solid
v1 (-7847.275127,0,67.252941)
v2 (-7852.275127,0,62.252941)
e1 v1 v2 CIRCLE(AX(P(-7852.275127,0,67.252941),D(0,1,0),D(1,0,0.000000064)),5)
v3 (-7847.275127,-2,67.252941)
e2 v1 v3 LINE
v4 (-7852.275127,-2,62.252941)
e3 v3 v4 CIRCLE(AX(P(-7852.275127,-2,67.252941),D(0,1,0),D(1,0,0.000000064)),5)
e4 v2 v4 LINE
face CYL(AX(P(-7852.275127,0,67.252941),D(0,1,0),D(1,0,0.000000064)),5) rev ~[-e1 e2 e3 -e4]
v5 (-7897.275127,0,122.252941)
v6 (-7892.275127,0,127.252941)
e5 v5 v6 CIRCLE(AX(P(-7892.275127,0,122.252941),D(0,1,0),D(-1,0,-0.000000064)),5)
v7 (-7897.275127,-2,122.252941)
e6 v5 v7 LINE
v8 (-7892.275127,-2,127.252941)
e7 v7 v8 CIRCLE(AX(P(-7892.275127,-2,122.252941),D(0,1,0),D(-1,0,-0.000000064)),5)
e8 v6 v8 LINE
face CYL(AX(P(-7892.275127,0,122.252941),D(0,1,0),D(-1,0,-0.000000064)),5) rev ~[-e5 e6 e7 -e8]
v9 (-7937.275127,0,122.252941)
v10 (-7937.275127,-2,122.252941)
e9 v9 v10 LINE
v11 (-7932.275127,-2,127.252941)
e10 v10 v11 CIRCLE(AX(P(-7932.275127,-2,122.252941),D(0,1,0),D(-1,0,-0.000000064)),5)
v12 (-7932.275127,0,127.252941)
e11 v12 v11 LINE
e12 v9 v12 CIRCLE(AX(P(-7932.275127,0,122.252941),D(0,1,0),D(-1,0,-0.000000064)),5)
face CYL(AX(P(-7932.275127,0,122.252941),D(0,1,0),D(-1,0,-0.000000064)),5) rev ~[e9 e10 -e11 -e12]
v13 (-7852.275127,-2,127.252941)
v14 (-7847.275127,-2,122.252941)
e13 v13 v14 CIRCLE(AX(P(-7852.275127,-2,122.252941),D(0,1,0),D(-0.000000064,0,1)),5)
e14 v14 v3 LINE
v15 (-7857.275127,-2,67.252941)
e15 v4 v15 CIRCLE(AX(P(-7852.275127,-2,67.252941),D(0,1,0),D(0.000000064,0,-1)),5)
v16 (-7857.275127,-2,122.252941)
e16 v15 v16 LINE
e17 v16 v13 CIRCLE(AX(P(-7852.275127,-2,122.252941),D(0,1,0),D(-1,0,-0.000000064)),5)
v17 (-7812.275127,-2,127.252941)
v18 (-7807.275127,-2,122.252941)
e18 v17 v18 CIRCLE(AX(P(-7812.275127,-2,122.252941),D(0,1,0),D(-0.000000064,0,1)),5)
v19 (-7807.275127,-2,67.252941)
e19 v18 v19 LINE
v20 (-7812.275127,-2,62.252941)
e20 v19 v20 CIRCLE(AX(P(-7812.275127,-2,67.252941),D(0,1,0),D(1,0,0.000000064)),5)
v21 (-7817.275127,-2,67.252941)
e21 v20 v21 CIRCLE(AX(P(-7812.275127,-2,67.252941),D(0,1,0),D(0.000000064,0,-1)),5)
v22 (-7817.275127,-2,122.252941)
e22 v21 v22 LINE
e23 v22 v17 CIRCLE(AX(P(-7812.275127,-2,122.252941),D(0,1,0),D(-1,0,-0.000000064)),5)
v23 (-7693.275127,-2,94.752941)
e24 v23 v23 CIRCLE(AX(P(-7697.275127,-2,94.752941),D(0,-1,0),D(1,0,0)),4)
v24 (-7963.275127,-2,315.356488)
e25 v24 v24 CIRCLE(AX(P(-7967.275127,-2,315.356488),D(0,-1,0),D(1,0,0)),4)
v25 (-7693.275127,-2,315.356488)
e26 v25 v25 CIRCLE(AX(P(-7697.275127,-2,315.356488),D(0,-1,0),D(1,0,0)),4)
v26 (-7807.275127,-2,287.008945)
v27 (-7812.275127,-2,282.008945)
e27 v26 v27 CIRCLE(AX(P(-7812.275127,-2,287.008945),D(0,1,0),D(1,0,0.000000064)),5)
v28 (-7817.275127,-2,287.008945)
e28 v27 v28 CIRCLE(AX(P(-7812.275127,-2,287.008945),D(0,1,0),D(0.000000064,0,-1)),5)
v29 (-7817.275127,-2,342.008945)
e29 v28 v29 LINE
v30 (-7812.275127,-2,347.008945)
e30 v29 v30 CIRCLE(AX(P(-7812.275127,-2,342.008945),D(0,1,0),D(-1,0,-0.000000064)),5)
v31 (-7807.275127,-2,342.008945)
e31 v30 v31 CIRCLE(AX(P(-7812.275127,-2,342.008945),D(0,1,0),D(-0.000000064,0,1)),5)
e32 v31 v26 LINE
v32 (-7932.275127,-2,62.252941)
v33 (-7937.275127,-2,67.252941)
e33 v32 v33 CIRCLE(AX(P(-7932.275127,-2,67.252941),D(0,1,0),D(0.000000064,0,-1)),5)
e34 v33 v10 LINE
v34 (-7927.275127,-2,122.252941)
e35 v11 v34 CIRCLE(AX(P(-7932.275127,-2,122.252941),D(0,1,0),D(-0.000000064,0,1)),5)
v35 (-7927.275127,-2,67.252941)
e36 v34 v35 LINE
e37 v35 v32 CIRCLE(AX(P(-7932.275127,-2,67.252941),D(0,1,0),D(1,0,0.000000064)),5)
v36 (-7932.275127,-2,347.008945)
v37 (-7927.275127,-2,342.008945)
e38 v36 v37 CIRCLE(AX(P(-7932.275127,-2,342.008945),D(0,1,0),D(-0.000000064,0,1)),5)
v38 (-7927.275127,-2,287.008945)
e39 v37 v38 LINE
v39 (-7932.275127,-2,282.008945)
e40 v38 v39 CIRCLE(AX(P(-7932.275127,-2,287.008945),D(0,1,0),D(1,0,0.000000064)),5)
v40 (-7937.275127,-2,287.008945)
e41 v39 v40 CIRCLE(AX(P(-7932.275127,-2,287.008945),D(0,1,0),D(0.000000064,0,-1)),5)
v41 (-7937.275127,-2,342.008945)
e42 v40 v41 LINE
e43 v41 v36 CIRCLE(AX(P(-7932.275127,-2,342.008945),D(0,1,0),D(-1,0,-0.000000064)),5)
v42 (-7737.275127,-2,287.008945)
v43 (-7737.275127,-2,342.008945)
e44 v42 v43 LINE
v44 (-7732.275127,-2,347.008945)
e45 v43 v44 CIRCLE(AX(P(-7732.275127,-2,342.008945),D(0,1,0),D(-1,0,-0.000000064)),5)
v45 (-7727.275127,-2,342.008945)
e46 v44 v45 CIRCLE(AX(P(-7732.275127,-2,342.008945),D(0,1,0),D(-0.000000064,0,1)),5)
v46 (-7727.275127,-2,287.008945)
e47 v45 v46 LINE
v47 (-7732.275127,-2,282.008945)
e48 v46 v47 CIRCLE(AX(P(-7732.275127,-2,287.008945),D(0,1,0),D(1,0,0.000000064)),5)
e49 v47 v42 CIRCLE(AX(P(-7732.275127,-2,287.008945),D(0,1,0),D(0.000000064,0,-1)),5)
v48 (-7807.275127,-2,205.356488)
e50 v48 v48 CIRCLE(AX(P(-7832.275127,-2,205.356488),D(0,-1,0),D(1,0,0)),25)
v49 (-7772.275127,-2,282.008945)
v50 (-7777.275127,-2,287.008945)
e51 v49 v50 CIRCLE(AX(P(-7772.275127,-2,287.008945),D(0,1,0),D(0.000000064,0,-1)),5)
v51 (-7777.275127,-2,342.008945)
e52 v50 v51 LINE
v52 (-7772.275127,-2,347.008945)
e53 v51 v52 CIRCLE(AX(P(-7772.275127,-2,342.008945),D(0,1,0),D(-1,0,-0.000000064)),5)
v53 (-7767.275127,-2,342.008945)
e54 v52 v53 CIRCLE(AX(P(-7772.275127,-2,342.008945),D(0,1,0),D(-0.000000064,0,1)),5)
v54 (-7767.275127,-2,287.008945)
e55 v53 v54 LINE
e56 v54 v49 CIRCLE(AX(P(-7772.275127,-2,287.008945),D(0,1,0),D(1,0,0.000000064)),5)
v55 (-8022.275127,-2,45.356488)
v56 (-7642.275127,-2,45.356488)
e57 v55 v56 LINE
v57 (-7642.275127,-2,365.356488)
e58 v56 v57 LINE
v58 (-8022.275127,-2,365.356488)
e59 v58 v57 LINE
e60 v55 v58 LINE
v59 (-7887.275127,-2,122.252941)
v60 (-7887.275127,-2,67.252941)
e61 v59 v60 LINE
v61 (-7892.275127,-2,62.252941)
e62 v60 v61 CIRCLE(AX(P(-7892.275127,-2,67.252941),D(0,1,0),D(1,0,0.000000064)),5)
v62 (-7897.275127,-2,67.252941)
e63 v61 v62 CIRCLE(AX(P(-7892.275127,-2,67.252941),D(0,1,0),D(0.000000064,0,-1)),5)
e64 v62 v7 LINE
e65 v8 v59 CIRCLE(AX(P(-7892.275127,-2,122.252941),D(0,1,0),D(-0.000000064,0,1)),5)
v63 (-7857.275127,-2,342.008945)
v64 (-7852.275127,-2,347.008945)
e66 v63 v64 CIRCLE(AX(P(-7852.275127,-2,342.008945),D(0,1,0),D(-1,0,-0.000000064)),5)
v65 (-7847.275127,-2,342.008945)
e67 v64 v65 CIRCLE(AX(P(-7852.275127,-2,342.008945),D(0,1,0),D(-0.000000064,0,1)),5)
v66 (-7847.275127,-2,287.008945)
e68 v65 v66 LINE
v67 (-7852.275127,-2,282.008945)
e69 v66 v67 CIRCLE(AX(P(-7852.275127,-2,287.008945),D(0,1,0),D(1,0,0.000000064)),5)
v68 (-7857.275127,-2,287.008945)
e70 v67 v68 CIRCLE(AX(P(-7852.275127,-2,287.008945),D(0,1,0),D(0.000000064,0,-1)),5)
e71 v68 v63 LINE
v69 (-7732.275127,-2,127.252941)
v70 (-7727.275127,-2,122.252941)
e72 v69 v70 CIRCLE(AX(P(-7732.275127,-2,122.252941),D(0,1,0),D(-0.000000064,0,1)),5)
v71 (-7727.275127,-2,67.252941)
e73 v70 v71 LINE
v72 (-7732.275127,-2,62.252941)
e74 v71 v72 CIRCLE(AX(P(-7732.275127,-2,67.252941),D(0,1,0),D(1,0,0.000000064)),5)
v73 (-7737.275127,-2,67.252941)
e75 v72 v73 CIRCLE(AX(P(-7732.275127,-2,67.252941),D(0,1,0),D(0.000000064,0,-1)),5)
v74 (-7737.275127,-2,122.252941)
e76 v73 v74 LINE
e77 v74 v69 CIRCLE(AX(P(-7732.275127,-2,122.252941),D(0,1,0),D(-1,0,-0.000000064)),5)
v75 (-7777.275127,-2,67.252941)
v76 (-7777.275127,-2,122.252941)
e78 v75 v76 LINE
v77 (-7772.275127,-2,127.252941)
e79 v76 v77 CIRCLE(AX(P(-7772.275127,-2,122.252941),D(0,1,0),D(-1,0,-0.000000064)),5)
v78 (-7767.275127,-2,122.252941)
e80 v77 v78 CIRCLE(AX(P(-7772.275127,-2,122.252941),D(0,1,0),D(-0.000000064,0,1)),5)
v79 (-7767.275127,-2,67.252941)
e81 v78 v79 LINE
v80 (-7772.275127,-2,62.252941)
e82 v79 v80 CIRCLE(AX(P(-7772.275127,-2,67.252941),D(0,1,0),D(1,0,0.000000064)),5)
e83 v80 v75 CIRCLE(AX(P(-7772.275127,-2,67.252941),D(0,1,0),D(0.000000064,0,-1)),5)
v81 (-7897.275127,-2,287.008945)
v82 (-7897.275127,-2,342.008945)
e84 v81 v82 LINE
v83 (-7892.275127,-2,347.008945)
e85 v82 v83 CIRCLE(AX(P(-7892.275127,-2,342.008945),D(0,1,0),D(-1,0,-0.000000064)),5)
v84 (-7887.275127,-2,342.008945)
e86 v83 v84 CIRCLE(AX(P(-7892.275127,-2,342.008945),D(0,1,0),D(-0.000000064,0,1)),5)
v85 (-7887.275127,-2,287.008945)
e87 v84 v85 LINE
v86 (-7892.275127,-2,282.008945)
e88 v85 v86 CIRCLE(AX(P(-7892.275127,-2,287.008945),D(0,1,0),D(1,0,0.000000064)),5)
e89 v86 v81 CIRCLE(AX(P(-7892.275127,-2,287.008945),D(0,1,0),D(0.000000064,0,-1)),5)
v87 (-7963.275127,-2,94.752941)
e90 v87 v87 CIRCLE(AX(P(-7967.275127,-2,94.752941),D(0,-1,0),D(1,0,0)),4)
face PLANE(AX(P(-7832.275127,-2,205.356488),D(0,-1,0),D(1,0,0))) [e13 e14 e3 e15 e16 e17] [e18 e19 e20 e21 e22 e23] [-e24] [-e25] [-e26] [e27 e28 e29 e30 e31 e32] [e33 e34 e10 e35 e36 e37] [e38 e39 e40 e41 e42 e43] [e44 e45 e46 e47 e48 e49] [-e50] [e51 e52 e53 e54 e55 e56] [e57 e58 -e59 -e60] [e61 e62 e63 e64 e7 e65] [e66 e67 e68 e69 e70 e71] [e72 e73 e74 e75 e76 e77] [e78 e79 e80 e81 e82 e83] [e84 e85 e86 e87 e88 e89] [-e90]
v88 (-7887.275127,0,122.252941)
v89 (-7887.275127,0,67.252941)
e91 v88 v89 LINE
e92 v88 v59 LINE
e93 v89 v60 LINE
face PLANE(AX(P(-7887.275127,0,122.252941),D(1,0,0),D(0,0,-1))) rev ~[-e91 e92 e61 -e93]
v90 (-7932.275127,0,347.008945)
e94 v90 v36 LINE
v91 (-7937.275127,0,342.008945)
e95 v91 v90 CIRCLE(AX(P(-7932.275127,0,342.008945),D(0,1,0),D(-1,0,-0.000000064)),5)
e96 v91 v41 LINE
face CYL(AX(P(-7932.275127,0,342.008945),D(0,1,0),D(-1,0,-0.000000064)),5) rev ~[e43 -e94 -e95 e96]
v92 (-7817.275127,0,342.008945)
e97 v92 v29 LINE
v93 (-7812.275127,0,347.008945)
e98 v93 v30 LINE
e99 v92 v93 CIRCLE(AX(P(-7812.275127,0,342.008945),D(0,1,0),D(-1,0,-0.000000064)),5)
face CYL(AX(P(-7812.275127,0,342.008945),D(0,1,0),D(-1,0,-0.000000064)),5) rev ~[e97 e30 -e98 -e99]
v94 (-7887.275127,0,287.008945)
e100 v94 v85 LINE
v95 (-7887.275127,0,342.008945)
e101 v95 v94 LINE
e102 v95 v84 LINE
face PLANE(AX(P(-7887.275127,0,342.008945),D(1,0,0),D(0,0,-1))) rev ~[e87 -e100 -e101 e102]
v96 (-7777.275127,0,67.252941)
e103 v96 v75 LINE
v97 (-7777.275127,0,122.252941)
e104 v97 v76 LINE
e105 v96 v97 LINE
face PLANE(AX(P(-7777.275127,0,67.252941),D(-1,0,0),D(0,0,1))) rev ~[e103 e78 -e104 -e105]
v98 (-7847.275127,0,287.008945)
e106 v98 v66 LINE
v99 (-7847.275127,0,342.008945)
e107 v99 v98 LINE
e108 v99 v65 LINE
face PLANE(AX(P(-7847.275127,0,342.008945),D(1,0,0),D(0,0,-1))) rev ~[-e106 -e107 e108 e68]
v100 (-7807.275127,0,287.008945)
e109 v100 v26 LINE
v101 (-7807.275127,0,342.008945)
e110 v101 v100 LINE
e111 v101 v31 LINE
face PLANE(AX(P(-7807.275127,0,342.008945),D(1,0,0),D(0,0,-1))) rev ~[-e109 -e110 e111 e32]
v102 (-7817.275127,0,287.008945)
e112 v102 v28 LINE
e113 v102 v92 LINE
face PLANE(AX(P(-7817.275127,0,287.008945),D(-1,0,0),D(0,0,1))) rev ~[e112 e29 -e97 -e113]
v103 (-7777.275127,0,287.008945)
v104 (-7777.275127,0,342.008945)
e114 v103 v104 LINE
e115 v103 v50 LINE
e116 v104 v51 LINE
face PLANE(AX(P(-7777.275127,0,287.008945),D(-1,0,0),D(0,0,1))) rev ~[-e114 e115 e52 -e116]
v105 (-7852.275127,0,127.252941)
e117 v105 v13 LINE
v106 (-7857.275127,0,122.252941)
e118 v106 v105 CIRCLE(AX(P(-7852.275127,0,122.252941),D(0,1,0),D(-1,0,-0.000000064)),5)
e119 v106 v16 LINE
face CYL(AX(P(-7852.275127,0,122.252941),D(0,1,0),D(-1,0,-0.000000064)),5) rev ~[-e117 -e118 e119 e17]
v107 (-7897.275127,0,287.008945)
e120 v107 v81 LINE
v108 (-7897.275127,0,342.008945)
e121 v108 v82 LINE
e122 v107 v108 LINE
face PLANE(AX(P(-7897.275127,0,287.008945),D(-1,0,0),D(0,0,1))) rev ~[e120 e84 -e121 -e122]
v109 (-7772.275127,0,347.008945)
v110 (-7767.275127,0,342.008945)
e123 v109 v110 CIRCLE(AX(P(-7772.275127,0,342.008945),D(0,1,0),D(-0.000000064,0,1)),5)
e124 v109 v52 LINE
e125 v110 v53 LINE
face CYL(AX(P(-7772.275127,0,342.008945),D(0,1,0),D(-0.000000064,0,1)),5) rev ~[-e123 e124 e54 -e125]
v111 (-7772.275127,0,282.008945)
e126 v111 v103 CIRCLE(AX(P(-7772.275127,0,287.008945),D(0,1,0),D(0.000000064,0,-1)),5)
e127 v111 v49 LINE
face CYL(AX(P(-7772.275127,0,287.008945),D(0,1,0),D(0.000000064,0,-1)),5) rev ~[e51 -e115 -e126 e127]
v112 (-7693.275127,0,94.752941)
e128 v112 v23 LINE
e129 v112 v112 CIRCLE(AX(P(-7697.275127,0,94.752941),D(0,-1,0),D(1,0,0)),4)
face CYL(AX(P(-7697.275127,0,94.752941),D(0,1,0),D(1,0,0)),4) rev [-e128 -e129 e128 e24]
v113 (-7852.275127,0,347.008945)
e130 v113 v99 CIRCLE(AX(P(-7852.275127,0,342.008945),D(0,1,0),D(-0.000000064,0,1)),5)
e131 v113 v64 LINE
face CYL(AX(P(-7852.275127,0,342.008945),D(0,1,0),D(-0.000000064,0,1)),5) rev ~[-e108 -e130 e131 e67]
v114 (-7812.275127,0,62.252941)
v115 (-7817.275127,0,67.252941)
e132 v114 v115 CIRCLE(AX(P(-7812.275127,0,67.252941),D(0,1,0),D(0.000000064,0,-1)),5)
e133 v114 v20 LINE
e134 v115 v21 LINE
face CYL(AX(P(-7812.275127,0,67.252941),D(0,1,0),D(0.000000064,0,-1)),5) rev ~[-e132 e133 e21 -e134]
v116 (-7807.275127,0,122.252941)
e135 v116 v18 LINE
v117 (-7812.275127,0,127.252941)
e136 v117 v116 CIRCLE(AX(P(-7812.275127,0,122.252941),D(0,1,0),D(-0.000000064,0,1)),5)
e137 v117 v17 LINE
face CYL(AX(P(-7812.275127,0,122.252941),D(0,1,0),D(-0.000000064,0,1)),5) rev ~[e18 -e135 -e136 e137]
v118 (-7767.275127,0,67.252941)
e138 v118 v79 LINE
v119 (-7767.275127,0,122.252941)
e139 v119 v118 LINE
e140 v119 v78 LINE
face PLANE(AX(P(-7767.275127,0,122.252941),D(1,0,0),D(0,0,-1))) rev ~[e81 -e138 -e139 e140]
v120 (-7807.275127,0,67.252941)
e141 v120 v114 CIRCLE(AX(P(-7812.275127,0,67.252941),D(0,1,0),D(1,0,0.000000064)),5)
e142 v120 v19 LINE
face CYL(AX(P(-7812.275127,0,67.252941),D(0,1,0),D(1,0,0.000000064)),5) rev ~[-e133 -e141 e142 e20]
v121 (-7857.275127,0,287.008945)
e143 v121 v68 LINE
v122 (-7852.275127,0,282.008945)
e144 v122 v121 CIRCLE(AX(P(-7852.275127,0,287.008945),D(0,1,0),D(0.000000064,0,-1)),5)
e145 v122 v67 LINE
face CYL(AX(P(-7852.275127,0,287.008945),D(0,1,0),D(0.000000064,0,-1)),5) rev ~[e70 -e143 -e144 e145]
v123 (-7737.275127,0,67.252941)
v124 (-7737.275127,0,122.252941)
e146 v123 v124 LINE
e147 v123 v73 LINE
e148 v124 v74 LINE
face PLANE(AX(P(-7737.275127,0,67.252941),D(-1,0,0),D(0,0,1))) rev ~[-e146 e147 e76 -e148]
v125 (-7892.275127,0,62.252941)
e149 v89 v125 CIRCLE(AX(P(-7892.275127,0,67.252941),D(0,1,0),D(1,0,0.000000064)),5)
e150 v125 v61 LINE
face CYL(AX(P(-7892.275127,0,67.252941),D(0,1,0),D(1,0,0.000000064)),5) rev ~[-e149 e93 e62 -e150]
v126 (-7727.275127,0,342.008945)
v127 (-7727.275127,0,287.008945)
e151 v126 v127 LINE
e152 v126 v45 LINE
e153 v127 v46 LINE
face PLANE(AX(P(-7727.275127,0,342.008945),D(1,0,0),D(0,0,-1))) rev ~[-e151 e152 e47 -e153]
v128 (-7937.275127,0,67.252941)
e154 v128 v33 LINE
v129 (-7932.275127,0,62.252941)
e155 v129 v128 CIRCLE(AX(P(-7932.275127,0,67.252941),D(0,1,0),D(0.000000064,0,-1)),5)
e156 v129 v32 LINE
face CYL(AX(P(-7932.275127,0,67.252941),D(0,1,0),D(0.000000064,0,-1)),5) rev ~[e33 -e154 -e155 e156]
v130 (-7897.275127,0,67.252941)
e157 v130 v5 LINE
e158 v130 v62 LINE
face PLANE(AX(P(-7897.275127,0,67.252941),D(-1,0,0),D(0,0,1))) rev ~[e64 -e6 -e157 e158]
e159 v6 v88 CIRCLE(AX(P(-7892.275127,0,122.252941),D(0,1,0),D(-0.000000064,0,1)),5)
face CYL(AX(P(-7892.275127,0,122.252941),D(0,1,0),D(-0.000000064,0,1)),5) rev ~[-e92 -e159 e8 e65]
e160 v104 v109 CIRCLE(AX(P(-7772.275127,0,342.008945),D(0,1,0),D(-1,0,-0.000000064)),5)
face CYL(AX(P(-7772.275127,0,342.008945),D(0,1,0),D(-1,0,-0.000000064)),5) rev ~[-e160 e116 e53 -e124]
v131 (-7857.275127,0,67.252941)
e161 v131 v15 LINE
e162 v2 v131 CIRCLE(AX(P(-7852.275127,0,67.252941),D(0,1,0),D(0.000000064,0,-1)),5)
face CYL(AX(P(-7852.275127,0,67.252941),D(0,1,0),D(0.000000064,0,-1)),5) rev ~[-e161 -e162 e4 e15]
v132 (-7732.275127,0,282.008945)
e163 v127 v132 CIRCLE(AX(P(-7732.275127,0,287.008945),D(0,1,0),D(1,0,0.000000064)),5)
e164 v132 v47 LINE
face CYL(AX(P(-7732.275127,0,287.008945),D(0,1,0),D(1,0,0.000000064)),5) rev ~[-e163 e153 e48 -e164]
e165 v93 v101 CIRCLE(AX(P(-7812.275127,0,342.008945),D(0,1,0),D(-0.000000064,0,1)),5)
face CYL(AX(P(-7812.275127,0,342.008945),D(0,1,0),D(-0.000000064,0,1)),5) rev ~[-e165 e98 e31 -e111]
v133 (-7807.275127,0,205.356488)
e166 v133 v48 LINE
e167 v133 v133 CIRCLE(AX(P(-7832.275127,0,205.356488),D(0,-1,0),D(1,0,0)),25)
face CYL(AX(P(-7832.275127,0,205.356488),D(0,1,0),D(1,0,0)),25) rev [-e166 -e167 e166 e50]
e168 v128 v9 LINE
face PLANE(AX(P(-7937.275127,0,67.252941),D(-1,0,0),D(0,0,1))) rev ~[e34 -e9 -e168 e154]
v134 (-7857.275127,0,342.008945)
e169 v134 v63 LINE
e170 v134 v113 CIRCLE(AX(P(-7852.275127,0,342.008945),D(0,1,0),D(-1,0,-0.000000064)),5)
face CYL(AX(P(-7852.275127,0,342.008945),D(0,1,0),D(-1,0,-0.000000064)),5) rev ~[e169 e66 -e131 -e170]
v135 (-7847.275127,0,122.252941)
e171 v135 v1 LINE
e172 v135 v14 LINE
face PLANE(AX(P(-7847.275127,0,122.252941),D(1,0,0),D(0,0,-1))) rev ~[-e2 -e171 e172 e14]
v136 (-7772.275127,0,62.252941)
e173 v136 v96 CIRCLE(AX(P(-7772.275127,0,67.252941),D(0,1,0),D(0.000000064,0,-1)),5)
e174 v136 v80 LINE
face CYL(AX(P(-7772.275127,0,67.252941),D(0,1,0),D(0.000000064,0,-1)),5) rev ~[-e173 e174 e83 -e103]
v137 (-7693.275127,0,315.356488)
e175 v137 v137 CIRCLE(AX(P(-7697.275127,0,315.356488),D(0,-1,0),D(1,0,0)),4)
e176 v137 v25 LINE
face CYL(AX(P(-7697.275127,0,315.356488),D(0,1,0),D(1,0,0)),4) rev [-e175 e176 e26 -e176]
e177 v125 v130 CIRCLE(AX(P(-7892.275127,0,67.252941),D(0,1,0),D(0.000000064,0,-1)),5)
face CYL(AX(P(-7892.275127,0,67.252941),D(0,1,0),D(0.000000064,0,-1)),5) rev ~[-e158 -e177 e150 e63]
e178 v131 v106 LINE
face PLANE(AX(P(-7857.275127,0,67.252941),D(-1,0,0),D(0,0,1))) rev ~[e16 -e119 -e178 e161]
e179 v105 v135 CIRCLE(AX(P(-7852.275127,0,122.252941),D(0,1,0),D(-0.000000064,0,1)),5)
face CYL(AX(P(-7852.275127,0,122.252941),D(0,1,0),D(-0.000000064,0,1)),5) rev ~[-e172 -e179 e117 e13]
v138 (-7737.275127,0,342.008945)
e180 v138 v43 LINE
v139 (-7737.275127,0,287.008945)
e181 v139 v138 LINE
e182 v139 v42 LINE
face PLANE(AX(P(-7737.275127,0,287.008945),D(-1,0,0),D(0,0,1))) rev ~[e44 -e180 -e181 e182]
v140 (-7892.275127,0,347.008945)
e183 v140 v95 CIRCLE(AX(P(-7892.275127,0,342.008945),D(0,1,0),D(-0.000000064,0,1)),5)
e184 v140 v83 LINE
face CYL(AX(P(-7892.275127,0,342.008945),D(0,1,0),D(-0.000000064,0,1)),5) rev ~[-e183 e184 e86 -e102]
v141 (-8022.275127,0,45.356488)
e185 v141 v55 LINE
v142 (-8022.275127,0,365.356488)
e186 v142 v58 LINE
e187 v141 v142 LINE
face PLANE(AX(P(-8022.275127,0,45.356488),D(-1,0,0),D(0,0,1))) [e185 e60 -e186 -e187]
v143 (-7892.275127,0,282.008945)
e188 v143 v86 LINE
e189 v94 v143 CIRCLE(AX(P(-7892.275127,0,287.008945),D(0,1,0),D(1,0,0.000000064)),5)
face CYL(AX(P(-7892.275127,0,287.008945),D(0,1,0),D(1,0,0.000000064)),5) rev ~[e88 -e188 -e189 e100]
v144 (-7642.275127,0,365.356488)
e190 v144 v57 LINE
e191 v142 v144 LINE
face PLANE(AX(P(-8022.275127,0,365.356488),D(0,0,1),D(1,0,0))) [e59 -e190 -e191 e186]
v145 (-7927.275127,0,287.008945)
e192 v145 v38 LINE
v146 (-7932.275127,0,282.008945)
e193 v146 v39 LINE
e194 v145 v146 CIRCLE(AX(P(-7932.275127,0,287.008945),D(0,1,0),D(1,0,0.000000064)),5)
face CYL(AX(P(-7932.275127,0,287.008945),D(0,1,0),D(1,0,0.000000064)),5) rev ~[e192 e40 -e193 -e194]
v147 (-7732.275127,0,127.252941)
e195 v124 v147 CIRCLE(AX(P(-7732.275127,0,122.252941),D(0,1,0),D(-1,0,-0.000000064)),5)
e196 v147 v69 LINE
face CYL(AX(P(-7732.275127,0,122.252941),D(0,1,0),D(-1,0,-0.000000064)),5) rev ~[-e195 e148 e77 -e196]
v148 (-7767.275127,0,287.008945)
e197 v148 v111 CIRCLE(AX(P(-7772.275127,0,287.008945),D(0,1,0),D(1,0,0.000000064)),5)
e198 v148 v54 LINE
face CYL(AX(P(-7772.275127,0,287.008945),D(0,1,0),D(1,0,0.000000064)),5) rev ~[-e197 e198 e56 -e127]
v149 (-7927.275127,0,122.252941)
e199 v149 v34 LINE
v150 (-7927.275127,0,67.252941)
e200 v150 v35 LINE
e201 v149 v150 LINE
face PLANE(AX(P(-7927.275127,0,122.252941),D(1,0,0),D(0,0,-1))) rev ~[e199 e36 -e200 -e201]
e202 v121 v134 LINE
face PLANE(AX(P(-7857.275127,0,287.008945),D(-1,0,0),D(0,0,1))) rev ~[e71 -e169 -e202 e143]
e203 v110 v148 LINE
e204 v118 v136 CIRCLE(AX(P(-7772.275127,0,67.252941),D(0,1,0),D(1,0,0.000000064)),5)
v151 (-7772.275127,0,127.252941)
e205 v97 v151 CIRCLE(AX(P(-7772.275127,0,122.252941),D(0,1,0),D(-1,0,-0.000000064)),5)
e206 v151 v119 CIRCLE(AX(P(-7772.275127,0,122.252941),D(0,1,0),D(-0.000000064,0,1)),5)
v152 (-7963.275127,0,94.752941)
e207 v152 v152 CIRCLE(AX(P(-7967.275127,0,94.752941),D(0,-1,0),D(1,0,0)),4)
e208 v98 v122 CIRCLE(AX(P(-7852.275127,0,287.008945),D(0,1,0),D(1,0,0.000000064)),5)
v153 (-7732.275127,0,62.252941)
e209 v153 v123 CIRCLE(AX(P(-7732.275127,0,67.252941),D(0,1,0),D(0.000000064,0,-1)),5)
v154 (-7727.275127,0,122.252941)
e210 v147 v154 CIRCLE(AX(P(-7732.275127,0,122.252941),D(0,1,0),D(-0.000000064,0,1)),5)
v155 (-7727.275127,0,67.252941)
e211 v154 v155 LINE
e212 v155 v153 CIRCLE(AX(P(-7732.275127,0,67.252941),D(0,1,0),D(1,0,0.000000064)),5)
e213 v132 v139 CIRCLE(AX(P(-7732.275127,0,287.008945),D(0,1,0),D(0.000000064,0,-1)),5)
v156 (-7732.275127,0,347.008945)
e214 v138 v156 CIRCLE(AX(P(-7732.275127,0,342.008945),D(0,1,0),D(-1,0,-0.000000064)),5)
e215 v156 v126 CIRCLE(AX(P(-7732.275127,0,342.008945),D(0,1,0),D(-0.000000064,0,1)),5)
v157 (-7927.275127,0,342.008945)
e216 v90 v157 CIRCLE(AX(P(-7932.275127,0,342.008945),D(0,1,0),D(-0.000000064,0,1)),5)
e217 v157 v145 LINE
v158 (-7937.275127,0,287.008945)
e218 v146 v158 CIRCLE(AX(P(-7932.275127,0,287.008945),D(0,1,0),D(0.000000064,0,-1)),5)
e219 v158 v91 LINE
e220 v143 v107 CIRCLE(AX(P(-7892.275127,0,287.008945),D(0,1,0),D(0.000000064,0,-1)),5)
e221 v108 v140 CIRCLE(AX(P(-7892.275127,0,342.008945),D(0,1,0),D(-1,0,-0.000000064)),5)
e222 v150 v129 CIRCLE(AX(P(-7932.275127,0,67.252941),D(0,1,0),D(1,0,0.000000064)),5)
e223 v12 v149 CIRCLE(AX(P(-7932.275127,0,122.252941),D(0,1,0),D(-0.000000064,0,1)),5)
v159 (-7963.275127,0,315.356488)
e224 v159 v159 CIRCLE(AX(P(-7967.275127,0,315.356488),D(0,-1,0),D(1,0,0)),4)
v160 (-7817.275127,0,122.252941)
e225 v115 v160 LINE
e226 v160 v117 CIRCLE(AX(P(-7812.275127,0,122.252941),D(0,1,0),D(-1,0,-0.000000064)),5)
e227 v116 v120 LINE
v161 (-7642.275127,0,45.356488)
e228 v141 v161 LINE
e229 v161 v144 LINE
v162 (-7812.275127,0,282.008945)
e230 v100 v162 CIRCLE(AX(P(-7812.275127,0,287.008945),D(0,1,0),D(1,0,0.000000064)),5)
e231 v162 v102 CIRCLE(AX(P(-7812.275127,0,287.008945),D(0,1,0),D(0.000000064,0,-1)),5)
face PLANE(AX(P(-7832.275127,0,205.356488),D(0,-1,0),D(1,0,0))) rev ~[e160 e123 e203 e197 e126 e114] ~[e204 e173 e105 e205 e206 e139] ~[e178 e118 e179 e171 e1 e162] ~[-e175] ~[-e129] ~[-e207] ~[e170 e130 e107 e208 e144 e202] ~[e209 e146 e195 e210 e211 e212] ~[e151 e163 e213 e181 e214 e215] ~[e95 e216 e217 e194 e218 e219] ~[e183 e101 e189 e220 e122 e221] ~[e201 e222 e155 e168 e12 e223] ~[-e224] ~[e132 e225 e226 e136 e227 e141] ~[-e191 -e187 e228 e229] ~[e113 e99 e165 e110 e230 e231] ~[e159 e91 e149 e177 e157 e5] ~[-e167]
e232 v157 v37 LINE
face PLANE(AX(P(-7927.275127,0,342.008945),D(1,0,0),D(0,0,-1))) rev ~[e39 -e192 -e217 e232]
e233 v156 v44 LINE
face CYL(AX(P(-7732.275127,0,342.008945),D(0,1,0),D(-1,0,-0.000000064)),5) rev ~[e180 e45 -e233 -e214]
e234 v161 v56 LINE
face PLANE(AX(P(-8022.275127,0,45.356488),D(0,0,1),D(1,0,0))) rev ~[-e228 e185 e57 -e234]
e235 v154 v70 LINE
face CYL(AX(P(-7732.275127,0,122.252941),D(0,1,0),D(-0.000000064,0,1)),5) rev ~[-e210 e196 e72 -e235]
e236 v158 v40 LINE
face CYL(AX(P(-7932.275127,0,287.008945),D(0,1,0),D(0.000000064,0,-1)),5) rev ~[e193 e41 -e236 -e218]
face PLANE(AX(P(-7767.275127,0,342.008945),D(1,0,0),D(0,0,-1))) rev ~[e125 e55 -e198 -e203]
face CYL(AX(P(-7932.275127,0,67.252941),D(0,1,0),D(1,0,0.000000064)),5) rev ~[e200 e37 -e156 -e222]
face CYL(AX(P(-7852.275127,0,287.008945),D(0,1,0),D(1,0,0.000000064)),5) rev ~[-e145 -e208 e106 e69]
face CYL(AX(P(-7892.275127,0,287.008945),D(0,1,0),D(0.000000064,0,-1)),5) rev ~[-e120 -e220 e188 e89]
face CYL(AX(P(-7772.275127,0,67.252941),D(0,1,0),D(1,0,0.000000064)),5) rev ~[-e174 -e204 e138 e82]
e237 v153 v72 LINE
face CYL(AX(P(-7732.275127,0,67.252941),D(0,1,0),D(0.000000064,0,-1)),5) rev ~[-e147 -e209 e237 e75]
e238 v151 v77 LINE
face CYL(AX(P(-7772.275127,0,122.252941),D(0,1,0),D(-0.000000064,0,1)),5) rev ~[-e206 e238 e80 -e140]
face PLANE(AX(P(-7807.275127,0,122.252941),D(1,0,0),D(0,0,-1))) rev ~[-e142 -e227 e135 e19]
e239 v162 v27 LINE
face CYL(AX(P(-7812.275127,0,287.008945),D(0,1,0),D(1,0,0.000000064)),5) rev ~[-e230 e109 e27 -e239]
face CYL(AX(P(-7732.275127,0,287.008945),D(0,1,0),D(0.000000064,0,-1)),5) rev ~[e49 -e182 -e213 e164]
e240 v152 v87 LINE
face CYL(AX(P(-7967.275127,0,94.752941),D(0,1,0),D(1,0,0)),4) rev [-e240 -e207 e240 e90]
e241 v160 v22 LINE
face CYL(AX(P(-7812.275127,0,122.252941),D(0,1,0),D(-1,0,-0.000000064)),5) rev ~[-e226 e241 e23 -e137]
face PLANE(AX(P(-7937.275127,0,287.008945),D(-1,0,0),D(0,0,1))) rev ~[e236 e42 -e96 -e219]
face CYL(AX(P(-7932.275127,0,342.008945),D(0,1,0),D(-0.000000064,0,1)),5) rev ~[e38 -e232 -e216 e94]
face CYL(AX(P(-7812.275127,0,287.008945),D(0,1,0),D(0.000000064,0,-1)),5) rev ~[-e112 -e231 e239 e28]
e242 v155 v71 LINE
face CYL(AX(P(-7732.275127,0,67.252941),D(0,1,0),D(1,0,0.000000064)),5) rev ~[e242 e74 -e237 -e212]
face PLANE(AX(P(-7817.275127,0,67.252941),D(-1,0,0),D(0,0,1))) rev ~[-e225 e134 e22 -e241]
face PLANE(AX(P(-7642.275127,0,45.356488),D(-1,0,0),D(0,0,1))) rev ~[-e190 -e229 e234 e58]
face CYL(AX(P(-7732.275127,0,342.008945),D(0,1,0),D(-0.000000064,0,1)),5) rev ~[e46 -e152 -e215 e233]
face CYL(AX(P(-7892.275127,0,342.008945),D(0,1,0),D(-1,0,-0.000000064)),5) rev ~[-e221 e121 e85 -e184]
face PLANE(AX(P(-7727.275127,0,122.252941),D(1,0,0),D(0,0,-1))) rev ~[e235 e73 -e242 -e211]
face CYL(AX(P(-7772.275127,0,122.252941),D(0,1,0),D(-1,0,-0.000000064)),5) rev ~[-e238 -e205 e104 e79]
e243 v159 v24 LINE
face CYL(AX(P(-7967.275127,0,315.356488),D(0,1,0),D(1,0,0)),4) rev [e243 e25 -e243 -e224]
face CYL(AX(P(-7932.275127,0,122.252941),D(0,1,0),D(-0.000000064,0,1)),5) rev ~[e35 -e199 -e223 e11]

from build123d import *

# Parameters (mm, degrees)
F0_W     = 380
F0_H     = 320
F0_R     = 4
F0_R_2   = 25
F1_DEPTH = 2


with BuildPart() as f1:
    # F0 (on Front) → F1 (new body)
    with BuildSketch(Plane.XZ):
        with Locations((-7832.275127, 205.356488)):
            Rectangle(F0_W, F0_H)
        with Locations((-7967.275127, 94.752941)):
            Circle(F0_R, mode=Mode.SUBTRACT)
        with BuildLine():
            ThreePointArc((-7932.275127, 127.252941), (-7928.739593, 125.788475), (-7927.275127, 122.252941))
            Line((-7927.275127, 122.252941), (-7927.275127, 67.252941))
            ThreePointArc((-7927.275127, 67.252941), (-7928.739593, 63.717407), (-7932.275127, 62.252941))
            ThreePointArc((-7932.275127, 62.252941), (-7935.810661, 63.717407), (-7937.275127, 67.252941))
            Line((-7937.275127, 67.252941), (-7937.275127, 122.252941))
            ThreePointArc((-7937.275127, 122.252941), (-7935.810661, 125.788475), (-7932.275127, 127.252941))
        make_face(mode=Mode.SUBTRACT)
        with BuildLine():
            ThreePointArc((-7892.275127, 127.252941), (-7888.739593, 125.788475), (-7887.275127, 122.252941))
            Line((-7887.275127, 122.252941), (-7887.275127, 67.252941))
            ThreePointArc((-7887.275127, 67.252941), (-7888.739593, 63.717407), (-7892.275127, 62.252941))
            ThreePointArc((-7892.275127, 62.252941), (-7895.810661, 63.717407), (-7897.275127, 67.252941))
            Line((-7897.275127, 67.252941), (-7897.275127, 122.252941))
            ThreePointArc((-7897.275127, 122.252941), (-7895.810661, 125.788475), (-7892.275127, 127.252941))
        make_face(mode=Mode.SUBTRACT)
        with BuildLine():
            ThreePointArc((-7852.275127, 127.252941), (-7848.739593, 125.788475), (-7847.275127, 122.252941))
            Line((-7847.275127, 122.252941), (-7847.275127, 67.252941))
            ThreePointArc((-7847.275127, 67.252941), (-7848.739593, 63.717407), (-7852.275127, 62.252941))
            ThreePointArc((-7852.275127, 62.252941), (-7855.810661, 63.717407), (-7857.275127, 67.252941))
            Line((-7857.275127, 67.252941), (-7857.275127, 122.252941))
            ThreePointArc((-7857.275127, 122.252941), (-7855.810661, 125.788475), (-7852.275127, 127.252941))
        make_face(mode=Mode.SUBTRACT)
        with BuildLine():
            ThreePointArc((-7812.275127, 127.252941), (-7808.739593, 125.788475), (-7807.275127, 122.252941))
            Line((-7807.275127, 122.252941), (-7807.275127, 67.252941))
            ThreePointArc((-7807.275127, 67.252941), (-7808.739593, 63.717407), (-7812.275127, 62.252941))
            ThreePointArc((-7812.275127, 62.252941), (-7815.810661, 63.717407), (-7817.275127, 67.252941))
            Line((-7817.275127, 67.252941), (-7817.275127, 122.252941))
            ThreePointArc((-7817.275127, 122.252941), (-7815.810661, 125.788475), (-7812.275127, 127.252941))
        make_face(mode=Mode.SUBTRACT)
        with BuildLine():
            ThreePointArc((-7772.275127, 127.252941), (-7768.739593, 125.788475), (-7767.275127, 122.252941))
            Line((-7767.275127, 122.252941), (-7767.275127, 67.252941))
            ThreePointArc((-7767.275127, 67.252941), (-7768.739593, 63.717407), (-7772.275127, 62.252941))
            ThreePointArc((-7772.275127, 62.252941), (-7775.810661, 63.717407), (-7777.275127, 67.252941))
            Line((-7777.275127, 67.252941), (-7777.275127, 122.252941))
            ThreePointArc((-7777.275127, 122.252941), (-7775.810661, 125.788475), (-7772.275127, 127.252941))
        make_face(mode=Mode.SUBTRACT)
        with BuildLine():
            ThreePointArc((-7732.275127, 127.252941), (-7728.739593, 125.788475), (-7727.275127, 122.252941))
            Line((-7727.275127, 122.252941), (-7727.275127, 67.252941))
            ThreePointArc((-7727.275127, 67.252941), (-7728.739593, 63.717407), (-7732.275127, 62.252941))
            ThreePointArc((-7732.275127, 62.252941), (-7735.810661, 63.717407), (-7737.275127, 67.252941))
            Line((-7737.275127, 67.252941), (-7737.275127, 122.252941))
            ThreePointArc((-7737.275127, 122.252941), (-7735.810661, 125.788475), (-7732.275127, 127.252941))
        make_face(mode=Mode.SUBTRACT)
        with Locations((-7697.275127, 94.752941)):
            Circle(F0_R, mode=Mode.SUBTRACT)
        with Locations((-7832.275127, 205.356488)):
            Circle(F0_R_2, mode=Mode.SUBTRACT)
        with Locations((-7967.275127, 315.356488)):
            Circle(F0_R, mode=Mode.SUBTRACT)
        with BuildLine():
            ThreePointArc((-7932.275127, 347.008945), (-7928.739593, 345.544479), (-7927.275127, 342.008945))
            Line((-7927.275127, 342.008945), (-7927.275127, 287.008945))
            ThreePointArc((-7927.275127, 287.008945), (-7928.739593, 283.473411), (-7932.275127, 282.008945))
            ThreePointArc((-7932.275127, 282.008945), (-7935.810661, 283.473411), (-7937.275127, 287.008945))
            Line((-7937.275127, 287.008945), (-7937.275127, 342.008945))
            ThreePointArc((-7937.275127, 342.008945), (-7935.810661, 345.544479), (-7932.275127, 347.008945))
        make_face(mode=Mode.SUBTRACT)
        with BuildLine():
            ThreePointArc((-7892.275127, 347.008945), (-7888.739593, 345.544479), (-7887.275127, 342.008945))
            Line((-7887.275127, 342.008945), (-7887.275127, 287.008945))
            ThreePointArc((-7887.275127, 287.008945), (-7888.739593, 283.473411), (-7892.275127, 282.008945))
            ThreePointArc((-7892.275127, 282.008945), (-7895.810661, 283.473411), (-7897.275127, 287.008945))
            Line((-7897.275127, 287.008945), (-7897.275127, 342.008945))
            ThreePointArc((-7897.275127, 342.008945), (-7895.810661, 345.544479), (-7892.275127, 347.008945))
        make_face(mode=Mode.SUBTRACT)
        with BuildLine():
            ThreePointArc((-7852.275127, 347.008945), (-7848.739593, 345.544479), (-7847.275127, 342.008945))
            Line((-7847.275127, 342.008945), (-7847.275127, 287.008945))
            ThreePointArc((-7847.275127, 287.008945), (-7848.739593, 283.473411), (-7852.275127, 282.008945))
            ThreePointArc((-7852.275127, 282.008945), (-7855.810661, 283.473411), (-7857.275127, 287.008945))
            Line((-7857.275127, 287.008945), (-7857.275127, 342.008945))
            ThreePointArc((-7857.275127, 342.008945), (-7855.810661, 345.544479), (-7852.275127, 347.008945))
        make_face(mode=Mode.SUBTRACT)
        with BuildLine():
            ThreePointArc((-7812.275127, 347.008945), (-7808.739593, 345.544479), (-7807.275127, 342.008945))
            Line((-7807.275127, 342.008945), (-7807.275127, 287.008945))
            ThreePointArc((-7807.275127, 287.008945), (-7808.739593, 283.473411), (-7812.275127, 282.008945))
            ThreePointArc((-7812.275127, 282.008945), (-7815.810661, 283.473411), (-7817.275127, 287.008945))
            Line((-7817.275127, 287.008945), (-7817.275127, 342.008945))
            ThreePointArc((-7817.275127, 342.008945), (-7815.810661, 345.544479), (-7812.275127, 347.008945))
        make_face(mode=Mode.SUBTRACT)
        with BuildLine():
            ThreePointArc((-7772.275127, 347.008945), (-7768.739593, 345.544479), (-7767.275127, 342.008945))
            Line((-7767.275127, 342.008945), (-7767.275127, 287.008945))
            ThreePointArc((-7767.275127, 287.008945), (-7768.739593, 283.473411), (-7772.275127, 282.008945))
            ThreePointArc((-7772.275127, 282.008945), (-7775.810661, 283.473411), (-7777.275127, 287.008945))
            Line((-7777.275127, 287.008945), (-7777.275127, 342.008945))
            ThreePointArc((-7777.275127, 342.008945), (-7775.810661, 345.544479), (-7772.275127, 347.008945))
        make_face(mode=Mode.SUBTRACT)
        with BuildLine():
            ThreePointArc((-7732.275127, 347.008945), (-7728.739593, 345.544479), (-7727.275127, 342.008945))
            Line((-7727.275127, 342.008945), (-7727.275127, 287.008945))
            ThreePointArc((-7727.275127, 287.008945), (-7728.739593, 283.473411), (-7732.275127, 282.008945))
            ThreePointArc((-7732.275127, 282.008945), (-7735.810661, 283.473411), (-7737.275127, 287.008945))
            Line((-7737.275127, 287.008945), (-7737.275127, 342.008945))
            ThreePointArc((-7737.275127, 342.008945), (-7735.810661, 345.544479), (-7732.275127, 347.008945))
        make_face(mode=Mode.SUBTRACT)
        with Locations((-7697.275127, 315.356488)):
            Circle(F0_R, mode=Mode.SUBTRACT)
    extrude(amount=F1_DEPTH)


solid = f1.part
